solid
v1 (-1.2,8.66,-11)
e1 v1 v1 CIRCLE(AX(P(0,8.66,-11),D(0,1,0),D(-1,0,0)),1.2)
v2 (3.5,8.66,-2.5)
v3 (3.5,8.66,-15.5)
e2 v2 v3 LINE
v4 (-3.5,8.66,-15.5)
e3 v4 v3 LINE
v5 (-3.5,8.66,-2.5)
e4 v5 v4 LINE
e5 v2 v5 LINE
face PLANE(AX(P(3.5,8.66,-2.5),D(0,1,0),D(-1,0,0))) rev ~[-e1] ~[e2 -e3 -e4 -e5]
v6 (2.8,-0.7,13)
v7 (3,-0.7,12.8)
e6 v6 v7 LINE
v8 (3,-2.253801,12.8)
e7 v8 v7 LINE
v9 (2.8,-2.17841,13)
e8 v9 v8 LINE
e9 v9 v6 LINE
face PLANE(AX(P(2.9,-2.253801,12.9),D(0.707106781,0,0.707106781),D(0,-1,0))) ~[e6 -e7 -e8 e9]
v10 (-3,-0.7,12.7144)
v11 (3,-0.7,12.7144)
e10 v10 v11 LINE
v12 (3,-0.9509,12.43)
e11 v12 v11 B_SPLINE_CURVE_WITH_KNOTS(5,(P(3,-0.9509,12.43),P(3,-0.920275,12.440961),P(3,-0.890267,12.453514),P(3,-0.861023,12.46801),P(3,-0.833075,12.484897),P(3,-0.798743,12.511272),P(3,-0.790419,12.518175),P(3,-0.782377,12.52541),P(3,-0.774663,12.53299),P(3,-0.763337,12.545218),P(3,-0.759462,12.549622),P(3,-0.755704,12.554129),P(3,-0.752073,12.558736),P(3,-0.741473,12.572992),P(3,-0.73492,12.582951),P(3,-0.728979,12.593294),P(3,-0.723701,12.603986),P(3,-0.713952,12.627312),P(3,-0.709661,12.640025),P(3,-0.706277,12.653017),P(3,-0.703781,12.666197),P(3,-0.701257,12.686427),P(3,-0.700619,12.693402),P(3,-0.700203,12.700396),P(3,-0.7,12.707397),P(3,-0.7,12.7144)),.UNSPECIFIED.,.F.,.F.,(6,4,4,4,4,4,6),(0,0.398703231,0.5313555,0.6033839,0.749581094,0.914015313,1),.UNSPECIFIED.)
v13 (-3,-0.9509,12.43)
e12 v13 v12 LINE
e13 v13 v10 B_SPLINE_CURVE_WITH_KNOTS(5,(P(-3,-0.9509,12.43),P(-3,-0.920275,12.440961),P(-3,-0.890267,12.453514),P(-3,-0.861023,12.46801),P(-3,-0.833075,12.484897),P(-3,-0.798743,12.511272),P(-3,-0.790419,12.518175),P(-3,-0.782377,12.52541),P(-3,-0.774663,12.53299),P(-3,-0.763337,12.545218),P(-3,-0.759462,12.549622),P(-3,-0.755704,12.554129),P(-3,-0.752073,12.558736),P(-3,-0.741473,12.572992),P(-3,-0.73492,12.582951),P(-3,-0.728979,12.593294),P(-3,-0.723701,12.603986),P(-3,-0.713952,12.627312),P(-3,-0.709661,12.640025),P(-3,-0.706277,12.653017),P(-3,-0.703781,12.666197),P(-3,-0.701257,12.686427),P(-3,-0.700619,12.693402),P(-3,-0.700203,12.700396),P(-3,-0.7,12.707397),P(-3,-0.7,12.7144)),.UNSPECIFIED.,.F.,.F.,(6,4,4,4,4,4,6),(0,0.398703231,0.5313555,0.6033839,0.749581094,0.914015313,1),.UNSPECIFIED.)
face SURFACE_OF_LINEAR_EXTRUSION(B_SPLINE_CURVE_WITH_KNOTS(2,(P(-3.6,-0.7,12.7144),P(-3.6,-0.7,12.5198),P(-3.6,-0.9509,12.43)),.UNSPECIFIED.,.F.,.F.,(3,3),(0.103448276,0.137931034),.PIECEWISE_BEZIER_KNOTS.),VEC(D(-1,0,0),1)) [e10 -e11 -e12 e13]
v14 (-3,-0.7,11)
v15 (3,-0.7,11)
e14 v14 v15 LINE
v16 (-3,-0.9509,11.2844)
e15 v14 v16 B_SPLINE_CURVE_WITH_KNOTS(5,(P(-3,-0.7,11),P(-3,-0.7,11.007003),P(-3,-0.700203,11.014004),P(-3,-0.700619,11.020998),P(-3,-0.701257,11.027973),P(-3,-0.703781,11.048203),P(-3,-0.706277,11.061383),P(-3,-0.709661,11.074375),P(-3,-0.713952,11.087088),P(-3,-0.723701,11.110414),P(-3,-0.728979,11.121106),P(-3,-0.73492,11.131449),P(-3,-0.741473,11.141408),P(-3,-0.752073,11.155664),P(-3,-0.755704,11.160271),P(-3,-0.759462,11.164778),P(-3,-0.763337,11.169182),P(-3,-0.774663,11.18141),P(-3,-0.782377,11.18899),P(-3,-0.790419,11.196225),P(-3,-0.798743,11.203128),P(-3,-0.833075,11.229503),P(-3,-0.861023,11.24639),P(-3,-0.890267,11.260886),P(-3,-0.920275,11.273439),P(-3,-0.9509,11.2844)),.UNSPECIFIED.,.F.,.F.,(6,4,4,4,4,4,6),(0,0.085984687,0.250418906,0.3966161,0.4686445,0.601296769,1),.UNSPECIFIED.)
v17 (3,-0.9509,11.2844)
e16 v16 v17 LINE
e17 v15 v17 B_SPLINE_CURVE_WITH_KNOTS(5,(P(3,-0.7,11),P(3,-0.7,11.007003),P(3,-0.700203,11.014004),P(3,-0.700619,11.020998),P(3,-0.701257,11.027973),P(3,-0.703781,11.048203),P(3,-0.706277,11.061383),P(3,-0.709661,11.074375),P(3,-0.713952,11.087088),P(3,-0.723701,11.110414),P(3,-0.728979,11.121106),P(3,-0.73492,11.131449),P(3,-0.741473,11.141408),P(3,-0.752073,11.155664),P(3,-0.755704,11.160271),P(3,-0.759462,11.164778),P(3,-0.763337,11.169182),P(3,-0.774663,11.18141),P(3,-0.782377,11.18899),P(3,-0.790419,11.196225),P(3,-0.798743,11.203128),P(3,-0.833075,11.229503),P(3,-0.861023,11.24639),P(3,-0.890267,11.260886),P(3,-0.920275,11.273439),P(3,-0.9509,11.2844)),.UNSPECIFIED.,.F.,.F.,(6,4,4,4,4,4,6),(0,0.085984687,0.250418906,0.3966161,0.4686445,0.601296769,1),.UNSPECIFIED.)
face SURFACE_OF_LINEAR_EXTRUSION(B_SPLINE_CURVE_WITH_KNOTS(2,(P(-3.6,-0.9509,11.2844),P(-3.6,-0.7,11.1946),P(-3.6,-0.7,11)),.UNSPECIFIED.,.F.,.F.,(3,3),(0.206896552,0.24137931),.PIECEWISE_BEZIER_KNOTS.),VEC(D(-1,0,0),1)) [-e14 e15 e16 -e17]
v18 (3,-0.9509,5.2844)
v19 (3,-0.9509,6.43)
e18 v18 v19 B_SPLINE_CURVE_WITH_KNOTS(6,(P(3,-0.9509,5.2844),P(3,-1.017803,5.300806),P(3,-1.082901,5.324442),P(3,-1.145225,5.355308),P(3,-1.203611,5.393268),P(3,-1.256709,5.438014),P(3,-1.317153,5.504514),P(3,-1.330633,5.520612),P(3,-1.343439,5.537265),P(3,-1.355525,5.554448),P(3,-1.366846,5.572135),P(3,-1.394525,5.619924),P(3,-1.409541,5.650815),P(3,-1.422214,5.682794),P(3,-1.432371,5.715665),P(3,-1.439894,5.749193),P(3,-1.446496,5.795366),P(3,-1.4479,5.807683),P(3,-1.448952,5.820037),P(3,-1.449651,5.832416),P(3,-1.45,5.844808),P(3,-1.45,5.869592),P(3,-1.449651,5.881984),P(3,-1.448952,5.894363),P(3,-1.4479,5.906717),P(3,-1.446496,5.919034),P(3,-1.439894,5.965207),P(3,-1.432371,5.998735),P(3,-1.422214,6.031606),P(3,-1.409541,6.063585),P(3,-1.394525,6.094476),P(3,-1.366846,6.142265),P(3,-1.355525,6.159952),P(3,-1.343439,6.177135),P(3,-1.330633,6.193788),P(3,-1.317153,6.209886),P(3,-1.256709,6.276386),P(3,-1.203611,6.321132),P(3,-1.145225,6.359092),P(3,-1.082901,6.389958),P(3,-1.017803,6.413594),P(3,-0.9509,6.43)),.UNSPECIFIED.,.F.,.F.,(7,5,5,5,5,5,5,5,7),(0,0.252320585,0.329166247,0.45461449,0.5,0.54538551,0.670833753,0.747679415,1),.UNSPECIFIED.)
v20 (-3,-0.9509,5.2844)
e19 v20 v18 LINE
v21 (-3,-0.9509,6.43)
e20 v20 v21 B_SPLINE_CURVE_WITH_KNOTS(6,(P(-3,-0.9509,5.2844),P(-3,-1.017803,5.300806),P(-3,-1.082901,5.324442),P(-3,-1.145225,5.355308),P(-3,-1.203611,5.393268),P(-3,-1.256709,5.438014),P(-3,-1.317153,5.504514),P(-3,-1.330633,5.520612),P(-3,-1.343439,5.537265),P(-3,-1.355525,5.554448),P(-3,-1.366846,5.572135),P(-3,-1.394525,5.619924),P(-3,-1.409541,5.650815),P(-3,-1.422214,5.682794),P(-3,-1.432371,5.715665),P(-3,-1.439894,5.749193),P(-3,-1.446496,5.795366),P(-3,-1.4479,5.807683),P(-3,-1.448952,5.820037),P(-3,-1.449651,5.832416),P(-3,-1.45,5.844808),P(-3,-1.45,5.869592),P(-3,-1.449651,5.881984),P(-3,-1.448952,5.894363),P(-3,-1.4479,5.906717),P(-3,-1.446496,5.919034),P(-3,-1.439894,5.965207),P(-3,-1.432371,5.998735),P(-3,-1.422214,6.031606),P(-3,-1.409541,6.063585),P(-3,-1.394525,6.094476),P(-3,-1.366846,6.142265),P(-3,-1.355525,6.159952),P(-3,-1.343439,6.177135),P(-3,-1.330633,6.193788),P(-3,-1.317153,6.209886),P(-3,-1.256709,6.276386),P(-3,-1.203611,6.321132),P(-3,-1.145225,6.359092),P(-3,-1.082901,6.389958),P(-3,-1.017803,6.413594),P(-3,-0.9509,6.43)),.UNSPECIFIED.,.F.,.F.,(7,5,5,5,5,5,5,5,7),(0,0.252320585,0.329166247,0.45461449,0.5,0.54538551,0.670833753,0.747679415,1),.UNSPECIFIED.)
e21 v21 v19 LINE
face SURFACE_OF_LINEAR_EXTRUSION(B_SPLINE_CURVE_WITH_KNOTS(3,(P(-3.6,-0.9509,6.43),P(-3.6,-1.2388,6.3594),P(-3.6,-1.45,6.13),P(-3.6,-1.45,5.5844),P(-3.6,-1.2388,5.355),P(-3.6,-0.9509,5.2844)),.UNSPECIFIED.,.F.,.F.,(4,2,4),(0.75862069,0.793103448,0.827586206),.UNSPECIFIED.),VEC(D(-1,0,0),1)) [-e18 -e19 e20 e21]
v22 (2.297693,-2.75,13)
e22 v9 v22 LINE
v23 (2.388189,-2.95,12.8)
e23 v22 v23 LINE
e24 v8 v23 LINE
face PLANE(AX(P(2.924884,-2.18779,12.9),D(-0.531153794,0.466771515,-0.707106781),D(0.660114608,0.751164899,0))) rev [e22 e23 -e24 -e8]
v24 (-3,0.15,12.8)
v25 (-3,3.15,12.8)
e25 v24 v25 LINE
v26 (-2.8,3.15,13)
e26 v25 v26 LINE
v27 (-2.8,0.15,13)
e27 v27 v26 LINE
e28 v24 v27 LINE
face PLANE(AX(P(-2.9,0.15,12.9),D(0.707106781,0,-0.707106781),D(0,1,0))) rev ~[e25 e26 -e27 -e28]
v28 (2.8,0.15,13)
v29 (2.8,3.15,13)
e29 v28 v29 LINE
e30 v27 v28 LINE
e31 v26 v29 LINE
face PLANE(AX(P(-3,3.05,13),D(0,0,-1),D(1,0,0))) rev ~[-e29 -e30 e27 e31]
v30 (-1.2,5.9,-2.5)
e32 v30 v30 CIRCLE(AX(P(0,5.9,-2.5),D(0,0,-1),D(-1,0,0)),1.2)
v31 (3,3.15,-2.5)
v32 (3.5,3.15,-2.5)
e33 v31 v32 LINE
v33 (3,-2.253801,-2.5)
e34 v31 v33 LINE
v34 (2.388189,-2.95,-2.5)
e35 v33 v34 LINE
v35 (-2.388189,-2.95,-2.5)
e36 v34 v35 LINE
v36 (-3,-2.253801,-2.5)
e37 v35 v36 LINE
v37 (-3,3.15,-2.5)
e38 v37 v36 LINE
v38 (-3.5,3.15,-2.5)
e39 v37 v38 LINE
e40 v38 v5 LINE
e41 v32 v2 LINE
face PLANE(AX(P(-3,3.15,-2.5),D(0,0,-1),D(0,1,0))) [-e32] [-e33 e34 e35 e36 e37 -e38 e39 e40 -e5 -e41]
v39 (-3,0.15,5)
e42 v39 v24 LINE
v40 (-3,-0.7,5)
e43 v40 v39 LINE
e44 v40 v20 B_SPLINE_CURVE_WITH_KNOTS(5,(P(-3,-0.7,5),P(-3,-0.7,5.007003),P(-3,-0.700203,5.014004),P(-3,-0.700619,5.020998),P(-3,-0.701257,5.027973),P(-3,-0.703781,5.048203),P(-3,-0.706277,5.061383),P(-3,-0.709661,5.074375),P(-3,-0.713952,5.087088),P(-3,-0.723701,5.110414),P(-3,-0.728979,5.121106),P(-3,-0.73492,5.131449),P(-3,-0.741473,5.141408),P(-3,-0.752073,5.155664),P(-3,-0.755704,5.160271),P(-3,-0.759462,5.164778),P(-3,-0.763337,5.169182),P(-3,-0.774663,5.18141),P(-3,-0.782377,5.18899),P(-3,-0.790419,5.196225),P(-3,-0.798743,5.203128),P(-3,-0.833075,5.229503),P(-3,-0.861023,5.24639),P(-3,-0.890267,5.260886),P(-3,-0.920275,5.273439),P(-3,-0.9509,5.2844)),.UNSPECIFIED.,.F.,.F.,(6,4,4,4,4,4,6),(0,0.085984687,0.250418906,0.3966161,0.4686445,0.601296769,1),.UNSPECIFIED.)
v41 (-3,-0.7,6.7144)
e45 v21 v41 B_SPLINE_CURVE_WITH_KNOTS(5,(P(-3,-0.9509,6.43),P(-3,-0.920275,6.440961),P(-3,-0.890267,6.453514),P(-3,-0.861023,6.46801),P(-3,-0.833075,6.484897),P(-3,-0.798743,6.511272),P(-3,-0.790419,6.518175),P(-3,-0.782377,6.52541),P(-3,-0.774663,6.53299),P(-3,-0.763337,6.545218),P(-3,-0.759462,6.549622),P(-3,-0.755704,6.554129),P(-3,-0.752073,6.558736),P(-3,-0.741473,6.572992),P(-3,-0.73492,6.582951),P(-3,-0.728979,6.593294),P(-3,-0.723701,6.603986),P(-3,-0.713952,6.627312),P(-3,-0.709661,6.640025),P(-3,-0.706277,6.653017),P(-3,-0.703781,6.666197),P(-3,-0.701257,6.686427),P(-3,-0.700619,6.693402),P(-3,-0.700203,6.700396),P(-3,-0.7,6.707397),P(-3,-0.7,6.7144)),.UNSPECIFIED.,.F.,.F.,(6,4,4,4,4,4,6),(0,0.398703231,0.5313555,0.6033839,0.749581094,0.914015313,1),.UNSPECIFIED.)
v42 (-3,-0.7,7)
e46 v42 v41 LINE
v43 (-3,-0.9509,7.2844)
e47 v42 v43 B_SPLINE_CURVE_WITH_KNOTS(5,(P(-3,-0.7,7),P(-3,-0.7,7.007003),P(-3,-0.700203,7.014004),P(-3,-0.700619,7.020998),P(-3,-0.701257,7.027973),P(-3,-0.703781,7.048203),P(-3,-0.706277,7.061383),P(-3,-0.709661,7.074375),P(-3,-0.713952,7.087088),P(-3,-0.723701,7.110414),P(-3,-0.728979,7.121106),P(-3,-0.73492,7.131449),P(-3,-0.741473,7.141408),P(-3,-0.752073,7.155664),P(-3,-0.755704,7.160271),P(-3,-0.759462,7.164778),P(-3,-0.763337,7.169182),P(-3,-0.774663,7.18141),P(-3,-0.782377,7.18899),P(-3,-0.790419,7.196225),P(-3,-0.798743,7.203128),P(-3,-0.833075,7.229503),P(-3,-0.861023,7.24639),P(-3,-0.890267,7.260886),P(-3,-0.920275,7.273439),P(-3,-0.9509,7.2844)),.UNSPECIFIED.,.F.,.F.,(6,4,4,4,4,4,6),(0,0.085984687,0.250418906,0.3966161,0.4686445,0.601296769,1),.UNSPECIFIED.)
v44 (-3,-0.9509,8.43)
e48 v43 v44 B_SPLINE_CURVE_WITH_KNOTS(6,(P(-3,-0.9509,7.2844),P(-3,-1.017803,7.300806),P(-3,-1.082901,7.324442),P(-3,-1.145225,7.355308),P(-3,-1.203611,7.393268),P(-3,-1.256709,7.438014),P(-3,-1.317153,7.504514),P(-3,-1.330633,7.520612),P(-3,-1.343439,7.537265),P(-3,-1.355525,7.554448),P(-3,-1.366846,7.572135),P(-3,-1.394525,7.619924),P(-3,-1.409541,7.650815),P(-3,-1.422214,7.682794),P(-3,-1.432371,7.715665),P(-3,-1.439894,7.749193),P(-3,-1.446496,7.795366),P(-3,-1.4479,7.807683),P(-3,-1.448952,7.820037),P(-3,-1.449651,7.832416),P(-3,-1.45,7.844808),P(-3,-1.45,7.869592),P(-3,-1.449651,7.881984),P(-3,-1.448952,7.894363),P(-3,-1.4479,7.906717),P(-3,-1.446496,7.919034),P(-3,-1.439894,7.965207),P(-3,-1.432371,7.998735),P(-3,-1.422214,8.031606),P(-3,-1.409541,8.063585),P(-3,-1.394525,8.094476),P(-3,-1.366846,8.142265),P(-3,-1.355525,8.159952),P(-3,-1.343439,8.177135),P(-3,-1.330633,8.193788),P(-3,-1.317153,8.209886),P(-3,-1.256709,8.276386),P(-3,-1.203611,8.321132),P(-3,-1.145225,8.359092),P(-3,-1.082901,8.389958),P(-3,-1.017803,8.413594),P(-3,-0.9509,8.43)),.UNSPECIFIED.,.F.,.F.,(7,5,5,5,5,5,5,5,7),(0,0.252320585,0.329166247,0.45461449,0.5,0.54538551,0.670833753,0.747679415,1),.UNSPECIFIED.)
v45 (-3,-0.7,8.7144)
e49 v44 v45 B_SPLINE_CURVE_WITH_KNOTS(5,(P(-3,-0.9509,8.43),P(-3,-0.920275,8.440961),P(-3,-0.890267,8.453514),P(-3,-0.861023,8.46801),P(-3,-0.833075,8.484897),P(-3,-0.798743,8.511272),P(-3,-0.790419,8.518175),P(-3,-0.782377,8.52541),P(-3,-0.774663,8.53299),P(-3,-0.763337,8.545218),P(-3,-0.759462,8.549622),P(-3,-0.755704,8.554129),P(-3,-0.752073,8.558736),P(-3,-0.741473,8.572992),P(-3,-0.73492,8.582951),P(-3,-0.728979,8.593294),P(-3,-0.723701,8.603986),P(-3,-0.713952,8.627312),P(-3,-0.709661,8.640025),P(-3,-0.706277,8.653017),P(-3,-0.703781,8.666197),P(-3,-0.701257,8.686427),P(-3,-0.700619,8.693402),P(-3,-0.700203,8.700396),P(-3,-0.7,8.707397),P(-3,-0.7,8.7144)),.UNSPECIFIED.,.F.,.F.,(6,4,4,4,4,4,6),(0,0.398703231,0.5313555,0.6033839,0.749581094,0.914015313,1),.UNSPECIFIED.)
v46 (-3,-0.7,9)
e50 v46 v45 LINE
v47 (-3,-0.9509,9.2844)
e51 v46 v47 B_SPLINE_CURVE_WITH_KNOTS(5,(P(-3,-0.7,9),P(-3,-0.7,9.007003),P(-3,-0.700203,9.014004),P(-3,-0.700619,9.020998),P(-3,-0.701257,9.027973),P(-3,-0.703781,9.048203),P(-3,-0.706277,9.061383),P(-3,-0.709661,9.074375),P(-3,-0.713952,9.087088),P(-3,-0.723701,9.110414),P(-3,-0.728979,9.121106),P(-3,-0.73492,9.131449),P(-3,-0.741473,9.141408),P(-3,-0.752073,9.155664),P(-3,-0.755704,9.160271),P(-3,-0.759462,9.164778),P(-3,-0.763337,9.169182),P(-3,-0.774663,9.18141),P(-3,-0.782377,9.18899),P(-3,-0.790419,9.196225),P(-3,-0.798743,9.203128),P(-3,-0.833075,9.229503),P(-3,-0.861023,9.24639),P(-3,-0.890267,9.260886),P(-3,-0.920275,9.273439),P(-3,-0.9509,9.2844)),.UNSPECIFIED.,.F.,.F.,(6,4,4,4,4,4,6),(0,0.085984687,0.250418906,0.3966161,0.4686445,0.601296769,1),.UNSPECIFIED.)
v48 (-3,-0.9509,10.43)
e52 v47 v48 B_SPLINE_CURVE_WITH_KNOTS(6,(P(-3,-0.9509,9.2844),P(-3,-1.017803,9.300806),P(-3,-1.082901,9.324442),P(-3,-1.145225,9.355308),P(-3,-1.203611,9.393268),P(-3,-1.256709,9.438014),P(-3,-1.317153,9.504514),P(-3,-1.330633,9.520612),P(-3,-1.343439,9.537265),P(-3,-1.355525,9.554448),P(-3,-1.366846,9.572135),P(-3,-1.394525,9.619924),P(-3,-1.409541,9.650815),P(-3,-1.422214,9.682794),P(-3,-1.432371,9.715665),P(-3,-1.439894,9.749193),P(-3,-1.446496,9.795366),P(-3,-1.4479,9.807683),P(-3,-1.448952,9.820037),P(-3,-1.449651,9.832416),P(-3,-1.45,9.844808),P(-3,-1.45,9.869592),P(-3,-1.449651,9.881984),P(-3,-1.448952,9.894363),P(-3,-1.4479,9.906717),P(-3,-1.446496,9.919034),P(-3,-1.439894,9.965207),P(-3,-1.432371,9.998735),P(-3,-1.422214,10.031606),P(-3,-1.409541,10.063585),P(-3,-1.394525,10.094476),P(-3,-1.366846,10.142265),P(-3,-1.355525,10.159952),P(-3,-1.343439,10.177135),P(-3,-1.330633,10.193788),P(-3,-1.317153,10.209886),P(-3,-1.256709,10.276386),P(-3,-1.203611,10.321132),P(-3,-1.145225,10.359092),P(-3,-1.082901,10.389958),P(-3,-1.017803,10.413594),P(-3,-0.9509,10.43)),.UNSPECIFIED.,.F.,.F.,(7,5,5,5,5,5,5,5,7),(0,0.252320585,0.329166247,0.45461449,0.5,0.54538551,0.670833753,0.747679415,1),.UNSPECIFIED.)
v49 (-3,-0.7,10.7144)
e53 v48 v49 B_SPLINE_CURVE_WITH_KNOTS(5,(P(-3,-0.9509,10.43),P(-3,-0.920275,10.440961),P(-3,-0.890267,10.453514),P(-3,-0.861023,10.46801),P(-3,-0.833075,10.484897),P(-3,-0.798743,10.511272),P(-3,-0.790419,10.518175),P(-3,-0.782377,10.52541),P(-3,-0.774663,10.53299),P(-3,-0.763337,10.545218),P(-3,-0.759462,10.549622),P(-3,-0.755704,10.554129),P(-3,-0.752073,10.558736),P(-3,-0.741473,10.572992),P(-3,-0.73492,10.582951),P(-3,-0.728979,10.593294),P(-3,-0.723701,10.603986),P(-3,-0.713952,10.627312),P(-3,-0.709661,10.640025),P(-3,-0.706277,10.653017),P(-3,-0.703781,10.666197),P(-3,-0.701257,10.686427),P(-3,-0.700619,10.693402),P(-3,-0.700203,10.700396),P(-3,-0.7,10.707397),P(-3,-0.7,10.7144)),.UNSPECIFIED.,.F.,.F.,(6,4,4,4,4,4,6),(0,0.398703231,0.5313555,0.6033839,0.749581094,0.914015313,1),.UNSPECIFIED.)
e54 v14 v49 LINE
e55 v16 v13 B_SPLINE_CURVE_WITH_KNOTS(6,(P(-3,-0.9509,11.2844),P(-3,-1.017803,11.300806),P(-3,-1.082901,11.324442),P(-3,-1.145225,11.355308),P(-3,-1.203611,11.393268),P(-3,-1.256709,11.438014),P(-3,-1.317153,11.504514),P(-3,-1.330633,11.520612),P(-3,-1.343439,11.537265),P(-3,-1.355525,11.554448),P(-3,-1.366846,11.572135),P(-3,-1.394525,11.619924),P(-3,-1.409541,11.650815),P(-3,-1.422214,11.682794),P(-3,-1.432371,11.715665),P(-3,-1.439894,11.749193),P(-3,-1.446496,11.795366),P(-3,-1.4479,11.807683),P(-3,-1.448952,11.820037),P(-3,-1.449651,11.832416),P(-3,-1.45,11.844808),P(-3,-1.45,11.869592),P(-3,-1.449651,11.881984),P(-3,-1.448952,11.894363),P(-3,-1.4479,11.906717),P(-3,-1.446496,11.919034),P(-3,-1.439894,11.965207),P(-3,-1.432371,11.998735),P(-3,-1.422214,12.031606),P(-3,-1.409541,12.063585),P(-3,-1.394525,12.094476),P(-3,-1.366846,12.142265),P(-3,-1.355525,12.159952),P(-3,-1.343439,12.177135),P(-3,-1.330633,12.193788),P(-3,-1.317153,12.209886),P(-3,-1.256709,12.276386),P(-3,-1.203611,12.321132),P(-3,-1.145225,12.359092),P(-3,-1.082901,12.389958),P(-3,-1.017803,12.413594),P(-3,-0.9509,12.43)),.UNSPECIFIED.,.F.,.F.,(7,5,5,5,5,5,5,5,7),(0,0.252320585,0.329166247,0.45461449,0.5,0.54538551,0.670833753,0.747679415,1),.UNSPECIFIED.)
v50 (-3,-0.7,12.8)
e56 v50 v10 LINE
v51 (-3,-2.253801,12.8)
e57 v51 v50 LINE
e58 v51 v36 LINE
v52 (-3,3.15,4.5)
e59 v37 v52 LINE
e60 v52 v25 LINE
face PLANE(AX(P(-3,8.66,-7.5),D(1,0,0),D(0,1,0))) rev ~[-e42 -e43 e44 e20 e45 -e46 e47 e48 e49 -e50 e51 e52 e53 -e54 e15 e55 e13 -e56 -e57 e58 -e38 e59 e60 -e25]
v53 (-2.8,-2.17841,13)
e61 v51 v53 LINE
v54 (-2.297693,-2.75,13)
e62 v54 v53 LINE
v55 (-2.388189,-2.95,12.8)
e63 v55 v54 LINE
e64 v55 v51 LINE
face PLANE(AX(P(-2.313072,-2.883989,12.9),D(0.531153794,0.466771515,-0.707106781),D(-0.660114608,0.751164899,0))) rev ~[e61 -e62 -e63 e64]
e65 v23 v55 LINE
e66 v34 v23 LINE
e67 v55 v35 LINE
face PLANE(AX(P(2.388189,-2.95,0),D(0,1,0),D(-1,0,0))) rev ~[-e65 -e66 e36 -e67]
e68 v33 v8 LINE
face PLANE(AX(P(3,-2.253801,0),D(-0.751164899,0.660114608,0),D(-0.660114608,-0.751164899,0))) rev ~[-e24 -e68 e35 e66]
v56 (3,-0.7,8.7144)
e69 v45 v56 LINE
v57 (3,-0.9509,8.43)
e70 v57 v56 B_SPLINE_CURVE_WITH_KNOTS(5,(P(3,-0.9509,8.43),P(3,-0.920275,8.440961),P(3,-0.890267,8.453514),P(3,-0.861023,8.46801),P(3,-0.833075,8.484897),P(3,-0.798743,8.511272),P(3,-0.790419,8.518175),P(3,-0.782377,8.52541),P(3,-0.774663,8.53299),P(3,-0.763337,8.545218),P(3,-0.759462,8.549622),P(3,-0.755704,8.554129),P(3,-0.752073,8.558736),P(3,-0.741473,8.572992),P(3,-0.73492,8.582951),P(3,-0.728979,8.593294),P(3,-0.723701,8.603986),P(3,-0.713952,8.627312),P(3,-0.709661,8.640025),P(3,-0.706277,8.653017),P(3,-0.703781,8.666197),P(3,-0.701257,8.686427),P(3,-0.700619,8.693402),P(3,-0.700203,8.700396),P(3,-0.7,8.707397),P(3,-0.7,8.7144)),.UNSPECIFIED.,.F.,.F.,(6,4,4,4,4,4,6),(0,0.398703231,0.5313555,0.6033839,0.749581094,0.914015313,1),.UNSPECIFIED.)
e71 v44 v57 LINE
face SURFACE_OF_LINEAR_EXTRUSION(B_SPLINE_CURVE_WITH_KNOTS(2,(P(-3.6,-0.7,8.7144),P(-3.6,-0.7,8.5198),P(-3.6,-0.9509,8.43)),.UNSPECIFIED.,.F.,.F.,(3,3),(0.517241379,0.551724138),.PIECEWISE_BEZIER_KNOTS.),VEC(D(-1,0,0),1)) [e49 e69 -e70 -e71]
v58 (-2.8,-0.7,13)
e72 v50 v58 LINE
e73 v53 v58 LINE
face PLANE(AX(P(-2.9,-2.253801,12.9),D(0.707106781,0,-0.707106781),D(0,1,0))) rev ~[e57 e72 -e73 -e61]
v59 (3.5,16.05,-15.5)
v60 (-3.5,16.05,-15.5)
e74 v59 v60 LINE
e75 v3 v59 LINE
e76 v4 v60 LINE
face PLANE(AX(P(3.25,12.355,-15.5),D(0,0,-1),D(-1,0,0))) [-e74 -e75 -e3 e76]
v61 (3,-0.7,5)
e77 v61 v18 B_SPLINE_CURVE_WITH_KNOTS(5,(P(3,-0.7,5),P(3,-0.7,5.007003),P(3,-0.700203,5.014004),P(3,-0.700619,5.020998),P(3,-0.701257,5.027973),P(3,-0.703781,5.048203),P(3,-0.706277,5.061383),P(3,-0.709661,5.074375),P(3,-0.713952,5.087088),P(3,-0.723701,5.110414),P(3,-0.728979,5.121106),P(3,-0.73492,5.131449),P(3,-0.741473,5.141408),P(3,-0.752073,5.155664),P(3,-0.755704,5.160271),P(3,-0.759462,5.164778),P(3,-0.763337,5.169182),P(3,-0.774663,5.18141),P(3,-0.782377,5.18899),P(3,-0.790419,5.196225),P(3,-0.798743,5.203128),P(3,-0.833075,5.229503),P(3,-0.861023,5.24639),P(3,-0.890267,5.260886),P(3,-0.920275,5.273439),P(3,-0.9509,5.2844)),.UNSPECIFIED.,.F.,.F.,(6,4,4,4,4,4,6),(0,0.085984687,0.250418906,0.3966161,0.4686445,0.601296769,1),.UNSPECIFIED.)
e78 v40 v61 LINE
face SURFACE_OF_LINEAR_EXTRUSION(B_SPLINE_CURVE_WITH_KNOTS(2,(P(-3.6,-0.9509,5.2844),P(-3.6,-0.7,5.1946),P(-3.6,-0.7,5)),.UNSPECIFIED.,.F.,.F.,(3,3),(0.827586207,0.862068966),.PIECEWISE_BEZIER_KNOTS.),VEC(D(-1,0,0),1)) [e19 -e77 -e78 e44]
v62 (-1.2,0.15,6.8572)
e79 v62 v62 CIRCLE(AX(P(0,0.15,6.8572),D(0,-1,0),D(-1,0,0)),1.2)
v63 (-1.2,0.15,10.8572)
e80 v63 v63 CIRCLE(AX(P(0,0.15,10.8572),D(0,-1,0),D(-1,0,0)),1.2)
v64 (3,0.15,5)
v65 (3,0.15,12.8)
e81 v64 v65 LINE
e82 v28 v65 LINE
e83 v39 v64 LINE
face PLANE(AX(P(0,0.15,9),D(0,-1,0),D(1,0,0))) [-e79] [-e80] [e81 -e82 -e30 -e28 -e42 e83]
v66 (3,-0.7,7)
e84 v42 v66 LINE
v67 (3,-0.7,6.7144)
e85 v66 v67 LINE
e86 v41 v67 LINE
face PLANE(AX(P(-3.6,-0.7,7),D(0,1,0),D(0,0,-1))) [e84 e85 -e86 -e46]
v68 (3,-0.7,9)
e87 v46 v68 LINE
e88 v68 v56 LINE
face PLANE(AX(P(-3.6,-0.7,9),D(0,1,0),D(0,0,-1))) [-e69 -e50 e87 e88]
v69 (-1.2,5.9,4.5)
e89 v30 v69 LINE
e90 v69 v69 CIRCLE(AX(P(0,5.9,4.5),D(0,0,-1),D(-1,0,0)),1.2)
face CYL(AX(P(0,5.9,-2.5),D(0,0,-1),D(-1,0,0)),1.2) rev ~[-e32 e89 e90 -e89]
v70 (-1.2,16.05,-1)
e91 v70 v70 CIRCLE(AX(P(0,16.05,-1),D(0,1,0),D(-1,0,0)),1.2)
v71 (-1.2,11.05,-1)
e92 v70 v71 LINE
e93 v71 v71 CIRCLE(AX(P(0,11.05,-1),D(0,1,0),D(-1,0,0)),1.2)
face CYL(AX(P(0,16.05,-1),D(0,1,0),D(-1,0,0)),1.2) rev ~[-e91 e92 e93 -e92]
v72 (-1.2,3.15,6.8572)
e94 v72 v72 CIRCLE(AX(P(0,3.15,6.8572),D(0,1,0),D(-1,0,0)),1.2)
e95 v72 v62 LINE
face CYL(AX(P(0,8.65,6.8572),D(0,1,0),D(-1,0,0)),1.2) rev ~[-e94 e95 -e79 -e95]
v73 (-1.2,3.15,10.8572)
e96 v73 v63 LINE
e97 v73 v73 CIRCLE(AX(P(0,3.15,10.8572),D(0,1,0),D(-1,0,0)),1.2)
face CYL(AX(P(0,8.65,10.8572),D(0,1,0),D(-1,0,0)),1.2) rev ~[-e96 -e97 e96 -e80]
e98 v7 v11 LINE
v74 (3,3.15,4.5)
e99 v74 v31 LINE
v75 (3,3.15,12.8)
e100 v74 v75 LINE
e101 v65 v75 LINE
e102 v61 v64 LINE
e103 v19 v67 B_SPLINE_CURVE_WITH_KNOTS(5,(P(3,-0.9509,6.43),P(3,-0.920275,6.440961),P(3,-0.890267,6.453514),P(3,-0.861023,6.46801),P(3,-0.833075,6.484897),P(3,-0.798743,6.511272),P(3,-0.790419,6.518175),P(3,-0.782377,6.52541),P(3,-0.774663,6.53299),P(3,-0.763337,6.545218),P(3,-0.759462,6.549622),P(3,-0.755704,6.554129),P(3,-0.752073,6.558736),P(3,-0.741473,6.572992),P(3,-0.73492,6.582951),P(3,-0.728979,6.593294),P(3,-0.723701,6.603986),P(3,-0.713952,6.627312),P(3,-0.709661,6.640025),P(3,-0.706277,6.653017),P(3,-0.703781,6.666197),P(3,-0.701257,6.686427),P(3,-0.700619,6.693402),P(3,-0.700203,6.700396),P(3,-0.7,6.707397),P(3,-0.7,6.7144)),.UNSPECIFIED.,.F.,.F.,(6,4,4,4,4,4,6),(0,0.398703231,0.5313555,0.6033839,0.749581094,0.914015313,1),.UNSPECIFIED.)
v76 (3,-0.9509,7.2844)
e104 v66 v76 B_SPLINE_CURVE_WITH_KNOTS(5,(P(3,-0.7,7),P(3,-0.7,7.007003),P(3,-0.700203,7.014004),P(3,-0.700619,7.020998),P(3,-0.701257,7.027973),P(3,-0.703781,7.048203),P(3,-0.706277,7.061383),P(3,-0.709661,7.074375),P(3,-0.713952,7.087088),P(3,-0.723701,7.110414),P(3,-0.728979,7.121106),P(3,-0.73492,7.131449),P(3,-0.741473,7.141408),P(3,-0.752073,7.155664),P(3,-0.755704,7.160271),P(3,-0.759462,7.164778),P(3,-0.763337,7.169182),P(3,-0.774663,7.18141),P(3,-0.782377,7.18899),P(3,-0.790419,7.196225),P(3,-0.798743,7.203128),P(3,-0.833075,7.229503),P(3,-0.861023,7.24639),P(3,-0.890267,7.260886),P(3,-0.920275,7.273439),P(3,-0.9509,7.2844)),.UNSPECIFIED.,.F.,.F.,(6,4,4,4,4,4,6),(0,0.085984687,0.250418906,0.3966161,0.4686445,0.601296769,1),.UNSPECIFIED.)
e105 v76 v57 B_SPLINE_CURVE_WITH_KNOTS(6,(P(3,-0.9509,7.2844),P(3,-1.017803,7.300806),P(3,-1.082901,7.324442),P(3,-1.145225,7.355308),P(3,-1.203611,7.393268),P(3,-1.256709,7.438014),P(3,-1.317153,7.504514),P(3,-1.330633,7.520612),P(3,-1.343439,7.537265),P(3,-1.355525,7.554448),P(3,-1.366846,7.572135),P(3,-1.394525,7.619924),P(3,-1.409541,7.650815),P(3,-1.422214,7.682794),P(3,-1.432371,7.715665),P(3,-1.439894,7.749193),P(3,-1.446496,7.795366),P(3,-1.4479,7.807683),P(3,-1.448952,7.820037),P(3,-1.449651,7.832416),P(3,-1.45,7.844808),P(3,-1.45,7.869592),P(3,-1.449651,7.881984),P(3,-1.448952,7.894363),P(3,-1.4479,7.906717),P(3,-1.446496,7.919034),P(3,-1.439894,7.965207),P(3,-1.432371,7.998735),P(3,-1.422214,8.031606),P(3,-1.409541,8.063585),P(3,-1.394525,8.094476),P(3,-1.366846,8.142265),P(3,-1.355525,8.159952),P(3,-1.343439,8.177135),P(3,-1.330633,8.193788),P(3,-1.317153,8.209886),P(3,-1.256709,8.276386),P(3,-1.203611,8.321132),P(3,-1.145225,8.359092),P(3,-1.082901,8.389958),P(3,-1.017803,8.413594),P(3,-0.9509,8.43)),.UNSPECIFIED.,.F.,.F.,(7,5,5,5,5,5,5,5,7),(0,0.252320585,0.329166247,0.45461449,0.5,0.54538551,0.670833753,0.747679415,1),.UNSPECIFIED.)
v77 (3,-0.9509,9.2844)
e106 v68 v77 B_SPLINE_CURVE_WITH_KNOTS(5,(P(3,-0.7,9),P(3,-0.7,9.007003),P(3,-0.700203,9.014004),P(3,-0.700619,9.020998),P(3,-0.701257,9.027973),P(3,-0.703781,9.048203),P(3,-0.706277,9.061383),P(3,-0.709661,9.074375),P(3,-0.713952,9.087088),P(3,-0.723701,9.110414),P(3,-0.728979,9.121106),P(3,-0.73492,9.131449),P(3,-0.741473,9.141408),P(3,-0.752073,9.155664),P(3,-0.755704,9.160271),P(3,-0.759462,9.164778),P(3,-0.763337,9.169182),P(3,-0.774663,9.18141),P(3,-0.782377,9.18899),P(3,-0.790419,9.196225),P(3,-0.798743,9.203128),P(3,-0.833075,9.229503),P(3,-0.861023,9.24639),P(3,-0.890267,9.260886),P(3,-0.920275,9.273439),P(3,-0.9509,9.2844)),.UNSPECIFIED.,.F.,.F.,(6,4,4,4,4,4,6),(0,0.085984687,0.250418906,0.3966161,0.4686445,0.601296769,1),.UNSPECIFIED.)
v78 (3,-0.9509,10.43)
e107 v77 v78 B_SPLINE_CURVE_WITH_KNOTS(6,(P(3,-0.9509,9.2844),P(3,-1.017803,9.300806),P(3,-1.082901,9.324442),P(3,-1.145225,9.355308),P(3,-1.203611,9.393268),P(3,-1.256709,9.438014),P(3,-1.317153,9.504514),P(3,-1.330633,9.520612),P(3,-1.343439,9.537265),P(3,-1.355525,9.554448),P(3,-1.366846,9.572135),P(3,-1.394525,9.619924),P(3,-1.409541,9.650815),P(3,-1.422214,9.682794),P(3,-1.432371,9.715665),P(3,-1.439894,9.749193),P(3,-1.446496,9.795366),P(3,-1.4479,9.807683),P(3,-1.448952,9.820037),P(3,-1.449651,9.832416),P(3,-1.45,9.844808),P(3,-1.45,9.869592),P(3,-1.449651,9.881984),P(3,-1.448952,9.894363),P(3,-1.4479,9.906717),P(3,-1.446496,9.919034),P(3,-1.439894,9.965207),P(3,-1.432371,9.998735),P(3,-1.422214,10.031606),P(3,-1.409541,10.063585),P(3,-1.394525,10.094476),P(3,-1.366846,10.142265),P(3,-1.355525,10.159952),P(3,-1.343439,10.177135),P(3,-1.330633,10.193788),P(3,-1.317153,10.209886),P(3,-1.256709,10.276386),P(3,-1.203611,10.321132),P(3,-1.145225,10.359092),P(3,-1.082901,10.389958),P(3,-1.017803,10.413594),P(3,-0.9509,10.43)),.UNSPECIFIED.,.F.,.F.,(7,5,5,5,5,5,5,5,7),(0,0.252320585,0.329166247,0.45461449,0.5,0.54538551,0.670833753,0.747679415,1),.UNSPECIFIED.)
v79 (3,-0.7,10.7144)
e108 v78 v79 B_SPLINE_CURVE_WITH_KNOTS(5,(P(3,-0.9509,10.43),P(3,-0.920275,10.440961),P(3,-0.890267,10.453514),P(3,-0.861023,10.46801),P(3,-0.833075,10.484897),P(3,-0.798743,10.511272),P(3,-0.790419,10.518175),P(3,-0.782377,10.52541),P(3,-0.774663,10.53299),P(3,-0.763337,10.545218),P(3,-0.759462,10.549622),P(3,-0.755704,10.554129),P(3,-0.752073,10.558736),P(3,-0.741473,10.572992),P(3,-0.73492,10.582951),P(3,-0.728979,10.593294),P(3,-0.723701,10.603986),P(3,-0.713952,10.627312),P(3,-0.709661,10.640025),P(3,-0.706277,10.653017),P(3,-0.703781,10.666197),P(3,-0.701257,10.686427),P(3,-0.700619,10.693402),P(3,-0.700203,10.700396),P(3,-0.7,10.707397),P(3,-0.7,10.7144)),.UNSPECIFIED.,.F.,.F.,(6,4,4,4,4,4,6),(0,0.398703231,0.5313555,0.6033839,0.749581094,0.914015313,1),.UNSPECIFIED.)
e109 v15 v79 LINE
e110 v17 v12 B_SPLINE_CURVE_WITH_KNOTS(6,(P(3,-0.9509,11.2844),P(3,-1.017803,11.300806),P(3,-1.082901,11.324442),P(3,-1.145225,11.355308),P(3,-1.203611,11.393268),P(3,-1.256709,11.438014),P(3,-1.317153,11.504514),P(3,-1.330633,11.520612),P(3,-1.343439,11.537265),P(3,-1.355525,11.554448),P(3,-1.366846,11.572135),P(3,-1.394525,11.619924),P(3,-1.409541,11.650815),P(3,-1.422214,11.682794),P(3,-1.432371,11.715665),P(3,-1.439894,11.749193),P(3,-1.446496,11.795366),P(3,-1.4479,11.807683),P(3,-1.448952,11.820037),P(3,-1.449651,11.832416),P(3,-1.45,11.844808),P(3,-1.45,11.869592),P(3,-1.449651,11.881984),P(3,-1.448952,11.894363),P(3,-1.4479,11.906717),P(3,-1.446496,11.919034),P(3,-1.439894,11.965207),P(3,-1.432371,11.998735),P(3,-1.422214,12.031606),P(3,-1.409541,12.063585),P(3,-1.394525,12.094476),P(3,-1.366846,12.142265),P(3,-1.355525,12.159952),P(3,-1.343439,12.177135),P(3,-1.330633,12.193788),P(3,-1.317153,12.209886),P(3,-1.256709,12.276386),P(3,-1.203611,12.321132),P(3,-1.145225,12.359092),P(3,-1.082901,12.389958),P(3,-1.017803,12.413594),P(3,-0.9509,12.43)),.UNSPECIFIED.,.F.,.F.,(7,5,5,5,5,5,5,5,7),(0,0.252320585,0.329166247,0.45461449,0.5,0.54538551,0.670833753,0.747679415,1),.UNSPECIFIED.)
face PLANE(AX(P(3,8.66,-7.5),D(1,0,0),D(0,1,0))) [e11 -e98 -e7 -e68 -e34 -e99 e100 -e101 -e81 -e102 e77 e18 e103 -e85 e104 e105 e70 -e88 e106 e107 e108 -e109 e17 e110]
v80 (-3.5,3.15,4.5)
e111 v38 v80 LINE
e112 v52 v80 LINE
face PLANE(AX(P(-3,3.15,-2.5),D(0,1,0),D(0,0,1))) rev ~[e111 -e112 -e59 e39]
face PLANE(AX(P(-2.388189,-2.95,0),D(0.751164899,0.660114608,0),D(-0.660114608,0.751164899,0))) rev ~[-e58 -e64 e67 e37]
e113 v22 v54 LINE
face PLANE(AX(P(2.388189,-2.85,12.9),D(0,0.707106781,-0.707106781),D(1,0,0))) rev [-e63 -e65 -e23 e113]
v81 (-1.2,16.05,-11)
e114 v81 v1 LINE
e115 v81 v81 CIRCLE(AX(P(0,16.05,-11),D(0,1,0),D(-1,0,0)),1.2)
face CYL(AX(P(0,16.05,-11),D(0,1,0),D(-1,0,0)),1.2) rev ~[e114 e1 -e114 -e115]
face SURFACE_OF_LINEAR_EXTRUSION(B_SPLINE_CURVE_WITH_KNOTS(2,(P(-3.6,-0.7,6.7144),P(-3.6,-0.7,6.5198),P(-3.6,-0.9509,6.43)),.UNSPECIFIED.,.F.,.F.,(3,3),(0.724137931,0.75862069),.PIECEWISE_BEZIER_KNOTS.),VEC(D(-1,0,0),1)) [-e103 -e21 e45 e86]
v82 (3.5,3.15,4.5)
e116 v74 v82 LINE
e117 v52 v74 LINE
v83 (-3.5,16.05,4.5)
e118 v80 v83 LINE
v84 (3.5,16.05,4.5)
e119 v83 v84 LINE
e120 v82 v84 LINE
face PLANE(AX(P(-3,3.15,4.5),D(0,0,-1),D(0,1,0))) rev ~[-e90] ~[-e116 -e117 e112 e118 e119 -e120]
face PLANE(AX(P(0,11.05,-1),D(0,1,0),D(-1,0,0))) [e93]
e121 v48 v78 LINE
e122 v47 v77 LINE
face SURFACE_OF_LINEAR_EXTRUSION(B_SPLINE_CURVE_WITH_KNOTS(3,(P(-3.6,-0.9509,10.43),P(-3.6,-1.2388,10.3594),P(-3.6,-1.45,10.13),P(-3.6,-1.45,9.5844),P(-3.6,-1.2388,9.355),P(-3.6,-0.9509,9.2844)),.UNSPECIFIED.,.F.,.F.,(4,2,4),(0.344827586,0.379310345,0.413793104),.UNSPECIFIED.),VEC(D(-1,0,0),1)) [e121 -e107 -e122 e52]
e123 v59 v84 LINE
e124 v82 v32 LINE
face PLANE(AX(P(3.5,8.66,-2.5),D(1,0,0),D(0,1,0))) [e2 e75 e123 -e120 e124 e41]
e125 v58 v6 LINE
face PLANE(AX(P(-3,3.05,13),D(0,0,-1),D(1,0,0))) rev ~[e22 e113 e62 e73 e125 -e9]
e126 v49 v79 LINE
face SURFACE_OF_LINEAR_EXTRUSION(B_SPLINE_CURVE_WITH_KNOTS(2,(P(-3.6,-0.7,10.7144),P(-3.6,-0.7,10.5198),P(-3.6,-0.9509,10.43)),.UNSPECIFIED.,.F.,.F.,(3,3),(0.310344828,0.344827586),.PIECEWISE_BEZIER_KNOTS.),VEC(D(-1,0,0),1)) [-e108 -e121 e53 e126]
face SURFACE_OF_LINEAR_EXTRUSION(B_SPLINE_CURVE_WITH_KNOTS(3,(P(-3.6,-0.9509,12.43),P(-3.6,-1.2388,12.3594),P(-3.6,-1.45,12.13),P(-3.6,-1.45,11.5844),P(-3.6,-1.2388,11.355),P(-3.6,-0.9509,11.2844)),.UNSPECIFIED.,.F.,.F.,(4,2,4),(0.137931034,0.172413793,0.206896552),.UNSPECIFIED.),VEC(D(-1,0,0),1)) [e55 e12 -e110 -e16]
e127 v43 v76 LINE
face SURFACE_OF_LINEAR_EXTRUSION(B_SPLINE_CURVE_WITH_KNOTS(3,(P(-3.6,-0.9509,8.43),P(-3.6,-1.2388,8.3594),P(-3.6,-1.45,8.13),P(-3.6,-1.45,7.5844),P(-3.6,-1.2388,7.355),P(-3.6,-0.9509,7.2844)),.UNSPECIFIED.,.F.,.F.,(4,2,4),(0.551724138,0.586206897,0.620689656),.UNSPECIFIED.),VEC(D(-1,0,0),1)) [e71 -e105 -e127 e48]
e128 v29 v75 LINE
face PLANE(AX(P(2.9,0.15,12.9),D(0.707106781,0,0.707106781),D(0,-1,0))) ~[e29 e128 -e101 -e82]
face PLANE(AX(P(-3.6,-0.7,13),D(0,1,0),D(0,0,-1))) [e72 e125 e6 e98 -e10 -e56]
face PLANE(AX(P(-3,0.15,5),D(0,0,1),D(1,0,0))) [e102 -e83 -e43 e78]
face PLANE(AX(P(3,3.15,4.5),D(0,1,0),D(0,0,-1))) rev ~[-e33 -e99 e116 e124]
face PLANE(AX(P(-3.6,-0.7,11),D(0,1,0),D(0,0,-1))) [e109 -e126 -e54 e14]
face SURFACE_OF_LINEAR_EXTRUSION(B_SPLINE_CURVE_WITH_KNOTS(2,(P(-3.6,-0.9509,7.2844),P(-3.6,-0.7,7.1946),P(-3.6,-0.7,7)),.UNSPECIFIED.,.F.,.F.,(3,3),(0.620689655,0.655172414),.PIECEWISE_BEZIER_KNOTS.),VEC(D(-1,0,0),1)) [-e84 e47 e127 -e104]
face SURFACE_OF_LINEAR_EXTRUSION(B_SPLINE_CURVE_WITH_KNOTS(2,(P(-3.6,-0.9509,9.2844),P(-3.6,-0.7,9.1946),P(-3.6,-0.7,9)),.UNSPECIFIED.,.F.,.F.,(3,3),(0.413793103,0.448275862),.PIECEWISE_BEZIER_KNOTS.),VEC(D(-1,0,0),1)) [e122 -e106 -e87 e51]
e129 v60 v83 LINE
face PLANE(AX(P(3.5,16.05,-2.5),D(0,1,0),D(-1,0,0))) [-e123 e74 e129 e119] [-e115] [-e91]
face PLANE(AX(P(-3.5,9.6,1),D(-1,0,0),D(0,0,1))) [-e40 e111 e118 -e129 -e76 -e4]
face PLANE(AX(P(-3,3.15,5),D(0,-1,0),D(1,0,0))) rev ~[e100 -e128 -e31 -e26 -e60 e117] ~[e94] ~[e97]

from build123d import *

# Parameters (mm, degrees)
BOSS_EXTRUDE1_DEPTH     = 13
SKETCH6_W               = 6
SKETCH6_H               = 5
BOSS_EXTRUDE4_DEPTH     = 5.6
SKETCH16_W              = 6
SKETCH16_H              = 8
BOSS_EXTRUDE5_DEPTH     = 0.1
CUT_EXTRUDE6_DEPTH      = 4
CUT_EXTRUDE6_DEPTH_BACK = 3.6
SKETCH15_R              = 1.2
CUT_EXTRUDE7_DEPTH      = 8.7202
CUT_EXTRUDE8_START      = -0.2202
SKETCH19_W              = 6
SKETCH19_H              = 8
SKETCH19_R              = 1.2
CUT_EXTRUDE8_DEPTH      = 0.2202
SKETCH12_R              = 1.2
CUT_EXTRUDE5_DEPTH      = 6
CHAMFER1_SIZE           = 0.2
SKETCH21_R              = 1.2
BOSS_EXTRUDE6_DEPTH     = 2.5
SKETCH24_W              = 6
SKETCH24_H              = 5.5
CUT_EXTRUDE10_DEPTH     = 8.5
SKETCH25_W              = 6
SKETCH25_H              = 7
BOSS_EXTRUDE8_DEPTH     = 12.9
SKETCH26_W              = 6
SKETCH26_H              = 7.39
BOSS_EXTRUDE9_DEPTH     = 5
SKETCH27_W              = 6
SKETCH27_H              = 7.39
BOSS_EXTRUDE10_DEPTH    = 8
SKETCH28_R              = 1.2
CUT_EXTRUDE11_DEPTH     = 7.5
SKETCH30_R              = 1.2
CUT_EXTRUDE13_DEPTH     = 8
SKETCH31_W              = 7
SKETCH31_H              = 12.9
BOSS_EXTRUDE11_DEPTH    = 0.5
SKETCH32_W              = 7
SKETCH32_H              = 12.9
BOSS_EXTRUDE12_DEPTH    = 0.5
SKETCH33_W              = 0.5
SKETCH33_H              = 7.39
BOSS_EXTRUDE13_DEPTH    = 13
SKETCH34_R              = 1.2
CUT_EXTRUDE14_DEPTH     = 5


with BuildPart() as part:
    # Sketch1 → Boss-Extrude1 (new body)
    with BuildSketch(Plane.XY):
        Polygon((3, 3.05), (3, -2.253801214), (2.388188946, -2.95), (-2.388188946, -2.95), (-3, -2.253801214), (-3, 3.05), align=None)
    extrude(amount=BOSS_EXTRUDE1_DEPTH)

    # Sketch6 → Boss-Extrude4 (add)
    with BuildSketch(Plane(origin=(0, 3.05, 0), x_dir=(1, 0, 0), z_dir=(0, 1, 0))):
        with Locations((0, -2.5)):
            Rectangle(SKETCH6_W, SKETCH6_H)
    extrude(amount=BOSS_EXTRUDE4_DEPTH)

    # Sketch16 → Boss-Extrude5 (add)
    with BuildSketch(Plane(origin=(0, 3.05, 0), x_dir=(1, 0, 0), z_dir=(0, 1, 0))):
        with Locations((0, -9)):
            Rectangle(SKETCH16_W, SKETCH16_H)
    extrude(amount=BOSS_EXTRUDE5_DEPTH)

    # Sketch18 → Cut-Extrude6 (cut, two sides: drawn at the far end of the back side and taken through both)
    with BuildSketch(Plane(origin=(0, 0, 0), x_dir=(0, 0, -1), z_dir=(1, 0, 0)).offset(-CUT_EXTRUDE6_DEPTH_BACK)):
        with BuildLine():
            Line((-8.8572, -0.0702), (-12.8572, -0.0702))
            Line((-12.8572, -0.0702), (-13, -0.0702))
            Line((-13, -0.0702), (-13, -0.7))
            Line((-13, -0.7), (-12.8572, -0.7))
            Line((-12.8572, -0.7), (-12.7144, -0.7))
            add(Edge.make_bspline(
                [(-12.7144, -0.7), (-12.5198, -0.7), (-12.43, -0.9509)],
                knots=[0.103448276, 0.103448276, 0.103448276, 0.137931034, 0.137931034, 0.137931034], degree=2))
            add(Edge.make_bspline(
                [(-12.43, -0.9509), (-12.3594, -1.2388), (-12.13, -1.45), (-11.8572, -1.45)],
                knots=[0.137931034, 0.137931034, 0.137931034, 0.137931034, 0.172413793, 0.172413793, 0.172413793, 0.172413793], degree=3))
            add(Edge.make_bspline(
                [(-11.8572, -1.45), (-11.5844, -1.45), (-11.355, -1.2388), (-11.2844, -0.9509)],
                knots=[0.172413793, 0.172413793, 0.172413793, 0.172413793, 0.206896552, 0.206896552, 0.206896552, 0.206896552], degree=3))
            add(Edge.make_bspline(
                [(-11.2844, -0.9509), (-11.1946, -0.7), (-11, -0.7)],
                knots=[0.206896552, 0.206896552, 0.206896552, 0.24137931, 0.24137931, 0.24137931], degree=2))
            Line((-11, -0.7), (-10.8572, -0.7))
            Line((-10.8572, -0.7), (-10.7144, -0.7))
            add(Edge.make_bspline(
                [(-10.7144, -0.7), (-10.5198, -0.7), (-10.43, -0.9509)],
                knots=[0.310344828, 0.310344828, 0.310344828, 0.344827586, 0.344827586, 0.344827586], degree=2))
            add(Edge.make_bspline(
                [(-10.43, -0.9509), (-10.3594, -1.2388), (-10.13, -1.45), (-9.8572, -1.45)],
                knots=[0.344827586, 0.344827586, 0.344827586, 0.344827586, 0.379310345, 0.379310345, 0.379310345, 0.379310345], degree=3))
            add(Edge.make_bspline(
                [(-9.8572, -1.45), (-9.5844, -1.45), (-9.355, -1.2388), (-9.2844, -0.9509)],
                knots=[0.379310345, 0.379310345, 0.379310345, 0.379310345, 0.413793103, 0.413793103, 0.413793103, 0.413793103], degree=3))
            add(Edge.make_bspline(
                [(-9.2844, -0.9509), (-9.1946, -0.7), (-9, -0.7)],
                knots=[0.413793103, 0.413793103, 0.413793103, 0.448275862, 0.448275862, 0.448275862], degree=2))
            Line((-9, -0.7), (-8.8572, -0.7))
            Line((-8.8572, -0.7), (-8.7144, -0.7))
            add(Edge.make_bspline(
                [(-8.7144, -0.7), (-8.5198, -0.7), (-8.43, -0.9509)],
                knots=[0.517241379, 0.517241379, 0.517241379, 0.551724138, 0.551724138, 0.551724138], degree=2))
            add(Edge.make_bspline(
                [(-8.43, -0.9509), (-8.3594, -1.2388), (-8.13, -1.45), (-7.8572, -1.45)],
                knots=[0.551724138, 0.551724138, 0.551724138, 0.551724138, 0.586206897, 0.586206897, 0.586206897, 0.586206897], degree=3))
            add(Edge.make_bspline(
                [(-7.8572, -1.45), (-7.5844, -1.45), (-7.355, -1.2388), (-7.2844, -0.9509)],
                knots=[0.586206897, 0.586206897, 0.586206897, 0.586206897, 0.620689655, 0.620689655, 0.620689655, 0.620689655], degree=3))
            add(Edge.make_bspline(
                [(-7.2844, -0.9509), (-7.1946, -0.7), (-7, -0.7)],
                knots=[0.620689655, 0.620689655, 0.620689655, 0.655172414, 0.655172414, 0.655172414], degree=2))
            Line((-7, -0.7), (-6.8572, -0.7))
            Line((-6.8572, -0.7), (-6.7144, -0.7))
            add(Edge.make_bspline(
                [(-6.7144, -0.7), (-6.5198, -0.7), (-6.43, -0.9509)],
                knots=[0.724137931, 0.724137931, 0.724137931, 0.75862069, 0.75862069, 0.75862069], degree=2))
            add(Edge.make_bspline(
                [(-6.43, -0.9509), (-6.3594, -1.2388), (-6.13, -1.45), (-5.8572, -1.45)],
                knots=[0.75862069, 0.75862069, 0.75862069, 0.75862069, 0.793103448, 0.793103448, 0.793103448, 0.793103448], degree=3))
            add(Edge.make_bspline(
                [(-5.8572, -1.45), (-5.5844, -1.45), (-5.355, -1.2388), (-5.2844, -0.9509)],
                knots=[0.793103448, 0.793103448, 0.793103448, 0.793103448, 0.827586207, 0.827586207, 0.827586207, 0.827586207], degree=3))
            add(Edge.make_bspline(
                [(-5.2844, -0.9509), (-5.1946, -0.7), (-5, -0.7)],
                knots=[0.827586207, 0.827586207, 0.827586207, 0.862068966, 0.862068966, 0.862068966], degree=2))
            Line((-5, -0.7), (-5, -0.0702))
            Line((-5, -0.0702), (-8.8572, -0.0702))
        make_face()
    extrude(amount=CUT_EXTRUDE6_DEPTH + CUT_EXTRUDE6_DEPTH_BACK, mode=Mode.SUBTRACT)

    # Sketch15 → Cut-Extrude7 (cut)
    with BuildSketch(Plane(origin=(0, 8.65, 0), x_dir=(1, 0, 0), z_dir=(0, 1, 0))):
        with Locations(Location((0, -10.8572, 0), (0, 0, 180))):
            Circle(SKETCH15_R)
        with Locations(Location((0, -6.8572, 0), (0, 0, 180))):
            Circle(SKETCH15_R)
    extrude(amount=-CUT_EXTRUDE7_DEPTH, mode=Mode.SUBTRACT)

    # Sketch19 → Cut-Extrude8 (cut)
    with BuildSketch(Plane.XZ.offset(0.0702).offset(CUT_EXTRUDE8_START)):
        with Locations((0, 9)):
            Rectangle(SKETCH19_W, SKETCH19_H)
        with Locations(Location((0, 10.8572, 0), (0, 0, 180))):
            Circle(SKETCH19_R, mode=Mode.SUBTRACT)
        with Locations(Location((0, 6.8572, 0), (0, 0, 180))):
            Circle(SKETCH19_R, mode=Mode.SUBTRACT)
    extrude(amount=CUT_EXTRUDE8_DEPTH, mode=Mode.SUBTRACT)

    # Sketch12 → Cut-Extrude5 (cut)
    with BuildSketch(Plane.XY.offset(5)):
        with Locations((0, 5.85)):
            Circle(SKETCH12_R)
    extrude(amount=-CUT_EXTRUDE5_DEPTH, mode=Mode.SUBTRACT)

    # Chamfer1
    chamfer1_edges = [part.edges().sort_by_distance(p)[0] for p in [
        (-2.694094473, -2.601900607, 13),
        (0, -2.95, 13),
        (2.694094473, -2.601900607, 13),
        (3, 1.65, 13),
        (3, -1.476900607, 13),
        (-3, -1.476900607, 13),
        (-3, 1.65, 13),
    ]]
    chamfer(chamfer1_edges, length=CHAMFER1_SIZE)

    # Sketch21 → Boss-Extrude6 (add)
    with BuildSketch(Plane(origin=(0, 0, 0), x_dir=(-1, 0, 0), z_dir=(0, 0, -1))):
        Polygon((-2.388188946, -2.95), (2.388188946, -2.95), (3, -2.253801214), (3, 8.65), (-3, 8.65), (-3, -2.253801214), align=None)
        with Locations(Location((0, 5.85, 0), (0, 0, 180))):
            Circle(SKETCH21_R, mode=Mode.SUBTRACT)
    extrude(amount=BOSS_EXTRUDE6_DEPTH)

    # Sketch24 → Cut-Extrude10 (cut)
    with BuildSketch(Plane.XY.offset(5)):
        with Locations((0, 5.9)):
            Rectangle(SKETCH24_W, SKETCH24_H)
    extrude(amount=-CUT_EXTRUDE10_DEPTH, mode=Mode.SUBTRACT)

    # Sketch25 → Boss-Extrude8 (add)
    with BuildSketch(Plane(origin=(0, 3.15, 0), x_dir=(1, 0, 0), z_dir=(0, 1, 0))):
        with Locations((0, -1)):
            Rectangle(SKETCH25_W, SKETCH25_H)
    extrude(amount=BOSS_EXTRUDE8_DEPTH)

    # Sketch26 → Boss-Extrude9 (add)
    with BuildSketch(Plane(origin=(0, 0, -2.5), x_dir=(-1, 0, 0), z_dir=(0, 0, -1))):
        with Locations((0, 12.355)):
            Rectangle(SKETCH26_W, SKETCH26_H)
    extrude(amount=BOSS_EXTRUDE9_DEPTH)

    # Sketch27 → Boss-Extrude10 (add)
    with BuildSketch(Plane(origin=(0, 0, -7.5), x_dir=(-1, 0, 0), z_dir=(0, 0, -1))):
        with Locations((0, 12.355)):
            Rectangle(SKETCH27_W, SKETCH27_H)
    extrude(amount=BOSS_EXTRUDE10_DEPTH)

    # Sketch28 → Cut-Extrude11 (cut)
    with BuildSketch(Plane(origin=(0, 16.05, 0), x_dir=(1, 0, 0), z_dir=(0, 1, 0))):
        with Locations(Location((0, 11, 0), (0, 0, 180))):
            Circle(SKETCH28_R)
    extrude(amount=-CUT_EXTRUDE11_DEPTH, mode=Mode.SUBTRACT)

    # Sketch30 → Cut-Extrude13 (cut)
    with BuildSketch(Plane(origin=(0, 0, -2.5), x_dir=(-1, 0, 0), z_dir=(0, 0, -1))):
        with Locations((0, 5.9)):
            Circle(SKETCH30_R)
    extrude(amount=-CUT_EXTRUDE13_DEPTH, mode=Mode.SUBTRACT)

    # Sketch31 → Boss-Extrude11 (add)
    with BuildSketch(Plane(origin=(3, 0, 0), x_dir=(0, 0, -1), z_dir=(1, 0, 0))):
        with Locations((-1, 9.6)):
            Rectangle(SKETCH31_W, SKETCH31_H)
    extrude(amount=BOSS_EXTRUDE11_DEPTH)

    # Sketch32 → Boss-Extrude12 (add)
    with BuildSketch(Plane.ZY.offset(3)):
        with Locations((1, 9.6)):
            Rectangle(SKETCH32_W, SKETCH32_H)
    extrude(amount=BOSS_EXTRUDE12_DEPTH)

    # Sketch33 → Boss-Extrude13 (add)
    with BuildSketch(Plane(origin=(0, 0, -2.5), x_dir=(-1, 0, 0), z_dir=(0, 0, -1))):
        with Locations((-3.25, 12.355)):
            Rectangle(SKETCH33_W, SKETCH33_H)
        with Locations((3.25, 12.355)):
            Rectangle(SKETCH33_W, SKETCH33_H)
    extrude(amount=BOSS_EXTRUDE13_DEPTH)

    # Sketch34 → Cut-Extrude14 (cut)
    with BuildSketch(Plane(origin=(0, 16.05, 0), x_dir=(1, 0, 0), z_dir=(0, 1, 0))):
        with Locations(Location((0, 1, 0), (0, 0, 180))):
            Circle(SKETCH34_R)
    extrude(amount=-CUT_EXTRUDE14_DEPTH, mode=Mode.SUBTRACT)


solid = part.part
